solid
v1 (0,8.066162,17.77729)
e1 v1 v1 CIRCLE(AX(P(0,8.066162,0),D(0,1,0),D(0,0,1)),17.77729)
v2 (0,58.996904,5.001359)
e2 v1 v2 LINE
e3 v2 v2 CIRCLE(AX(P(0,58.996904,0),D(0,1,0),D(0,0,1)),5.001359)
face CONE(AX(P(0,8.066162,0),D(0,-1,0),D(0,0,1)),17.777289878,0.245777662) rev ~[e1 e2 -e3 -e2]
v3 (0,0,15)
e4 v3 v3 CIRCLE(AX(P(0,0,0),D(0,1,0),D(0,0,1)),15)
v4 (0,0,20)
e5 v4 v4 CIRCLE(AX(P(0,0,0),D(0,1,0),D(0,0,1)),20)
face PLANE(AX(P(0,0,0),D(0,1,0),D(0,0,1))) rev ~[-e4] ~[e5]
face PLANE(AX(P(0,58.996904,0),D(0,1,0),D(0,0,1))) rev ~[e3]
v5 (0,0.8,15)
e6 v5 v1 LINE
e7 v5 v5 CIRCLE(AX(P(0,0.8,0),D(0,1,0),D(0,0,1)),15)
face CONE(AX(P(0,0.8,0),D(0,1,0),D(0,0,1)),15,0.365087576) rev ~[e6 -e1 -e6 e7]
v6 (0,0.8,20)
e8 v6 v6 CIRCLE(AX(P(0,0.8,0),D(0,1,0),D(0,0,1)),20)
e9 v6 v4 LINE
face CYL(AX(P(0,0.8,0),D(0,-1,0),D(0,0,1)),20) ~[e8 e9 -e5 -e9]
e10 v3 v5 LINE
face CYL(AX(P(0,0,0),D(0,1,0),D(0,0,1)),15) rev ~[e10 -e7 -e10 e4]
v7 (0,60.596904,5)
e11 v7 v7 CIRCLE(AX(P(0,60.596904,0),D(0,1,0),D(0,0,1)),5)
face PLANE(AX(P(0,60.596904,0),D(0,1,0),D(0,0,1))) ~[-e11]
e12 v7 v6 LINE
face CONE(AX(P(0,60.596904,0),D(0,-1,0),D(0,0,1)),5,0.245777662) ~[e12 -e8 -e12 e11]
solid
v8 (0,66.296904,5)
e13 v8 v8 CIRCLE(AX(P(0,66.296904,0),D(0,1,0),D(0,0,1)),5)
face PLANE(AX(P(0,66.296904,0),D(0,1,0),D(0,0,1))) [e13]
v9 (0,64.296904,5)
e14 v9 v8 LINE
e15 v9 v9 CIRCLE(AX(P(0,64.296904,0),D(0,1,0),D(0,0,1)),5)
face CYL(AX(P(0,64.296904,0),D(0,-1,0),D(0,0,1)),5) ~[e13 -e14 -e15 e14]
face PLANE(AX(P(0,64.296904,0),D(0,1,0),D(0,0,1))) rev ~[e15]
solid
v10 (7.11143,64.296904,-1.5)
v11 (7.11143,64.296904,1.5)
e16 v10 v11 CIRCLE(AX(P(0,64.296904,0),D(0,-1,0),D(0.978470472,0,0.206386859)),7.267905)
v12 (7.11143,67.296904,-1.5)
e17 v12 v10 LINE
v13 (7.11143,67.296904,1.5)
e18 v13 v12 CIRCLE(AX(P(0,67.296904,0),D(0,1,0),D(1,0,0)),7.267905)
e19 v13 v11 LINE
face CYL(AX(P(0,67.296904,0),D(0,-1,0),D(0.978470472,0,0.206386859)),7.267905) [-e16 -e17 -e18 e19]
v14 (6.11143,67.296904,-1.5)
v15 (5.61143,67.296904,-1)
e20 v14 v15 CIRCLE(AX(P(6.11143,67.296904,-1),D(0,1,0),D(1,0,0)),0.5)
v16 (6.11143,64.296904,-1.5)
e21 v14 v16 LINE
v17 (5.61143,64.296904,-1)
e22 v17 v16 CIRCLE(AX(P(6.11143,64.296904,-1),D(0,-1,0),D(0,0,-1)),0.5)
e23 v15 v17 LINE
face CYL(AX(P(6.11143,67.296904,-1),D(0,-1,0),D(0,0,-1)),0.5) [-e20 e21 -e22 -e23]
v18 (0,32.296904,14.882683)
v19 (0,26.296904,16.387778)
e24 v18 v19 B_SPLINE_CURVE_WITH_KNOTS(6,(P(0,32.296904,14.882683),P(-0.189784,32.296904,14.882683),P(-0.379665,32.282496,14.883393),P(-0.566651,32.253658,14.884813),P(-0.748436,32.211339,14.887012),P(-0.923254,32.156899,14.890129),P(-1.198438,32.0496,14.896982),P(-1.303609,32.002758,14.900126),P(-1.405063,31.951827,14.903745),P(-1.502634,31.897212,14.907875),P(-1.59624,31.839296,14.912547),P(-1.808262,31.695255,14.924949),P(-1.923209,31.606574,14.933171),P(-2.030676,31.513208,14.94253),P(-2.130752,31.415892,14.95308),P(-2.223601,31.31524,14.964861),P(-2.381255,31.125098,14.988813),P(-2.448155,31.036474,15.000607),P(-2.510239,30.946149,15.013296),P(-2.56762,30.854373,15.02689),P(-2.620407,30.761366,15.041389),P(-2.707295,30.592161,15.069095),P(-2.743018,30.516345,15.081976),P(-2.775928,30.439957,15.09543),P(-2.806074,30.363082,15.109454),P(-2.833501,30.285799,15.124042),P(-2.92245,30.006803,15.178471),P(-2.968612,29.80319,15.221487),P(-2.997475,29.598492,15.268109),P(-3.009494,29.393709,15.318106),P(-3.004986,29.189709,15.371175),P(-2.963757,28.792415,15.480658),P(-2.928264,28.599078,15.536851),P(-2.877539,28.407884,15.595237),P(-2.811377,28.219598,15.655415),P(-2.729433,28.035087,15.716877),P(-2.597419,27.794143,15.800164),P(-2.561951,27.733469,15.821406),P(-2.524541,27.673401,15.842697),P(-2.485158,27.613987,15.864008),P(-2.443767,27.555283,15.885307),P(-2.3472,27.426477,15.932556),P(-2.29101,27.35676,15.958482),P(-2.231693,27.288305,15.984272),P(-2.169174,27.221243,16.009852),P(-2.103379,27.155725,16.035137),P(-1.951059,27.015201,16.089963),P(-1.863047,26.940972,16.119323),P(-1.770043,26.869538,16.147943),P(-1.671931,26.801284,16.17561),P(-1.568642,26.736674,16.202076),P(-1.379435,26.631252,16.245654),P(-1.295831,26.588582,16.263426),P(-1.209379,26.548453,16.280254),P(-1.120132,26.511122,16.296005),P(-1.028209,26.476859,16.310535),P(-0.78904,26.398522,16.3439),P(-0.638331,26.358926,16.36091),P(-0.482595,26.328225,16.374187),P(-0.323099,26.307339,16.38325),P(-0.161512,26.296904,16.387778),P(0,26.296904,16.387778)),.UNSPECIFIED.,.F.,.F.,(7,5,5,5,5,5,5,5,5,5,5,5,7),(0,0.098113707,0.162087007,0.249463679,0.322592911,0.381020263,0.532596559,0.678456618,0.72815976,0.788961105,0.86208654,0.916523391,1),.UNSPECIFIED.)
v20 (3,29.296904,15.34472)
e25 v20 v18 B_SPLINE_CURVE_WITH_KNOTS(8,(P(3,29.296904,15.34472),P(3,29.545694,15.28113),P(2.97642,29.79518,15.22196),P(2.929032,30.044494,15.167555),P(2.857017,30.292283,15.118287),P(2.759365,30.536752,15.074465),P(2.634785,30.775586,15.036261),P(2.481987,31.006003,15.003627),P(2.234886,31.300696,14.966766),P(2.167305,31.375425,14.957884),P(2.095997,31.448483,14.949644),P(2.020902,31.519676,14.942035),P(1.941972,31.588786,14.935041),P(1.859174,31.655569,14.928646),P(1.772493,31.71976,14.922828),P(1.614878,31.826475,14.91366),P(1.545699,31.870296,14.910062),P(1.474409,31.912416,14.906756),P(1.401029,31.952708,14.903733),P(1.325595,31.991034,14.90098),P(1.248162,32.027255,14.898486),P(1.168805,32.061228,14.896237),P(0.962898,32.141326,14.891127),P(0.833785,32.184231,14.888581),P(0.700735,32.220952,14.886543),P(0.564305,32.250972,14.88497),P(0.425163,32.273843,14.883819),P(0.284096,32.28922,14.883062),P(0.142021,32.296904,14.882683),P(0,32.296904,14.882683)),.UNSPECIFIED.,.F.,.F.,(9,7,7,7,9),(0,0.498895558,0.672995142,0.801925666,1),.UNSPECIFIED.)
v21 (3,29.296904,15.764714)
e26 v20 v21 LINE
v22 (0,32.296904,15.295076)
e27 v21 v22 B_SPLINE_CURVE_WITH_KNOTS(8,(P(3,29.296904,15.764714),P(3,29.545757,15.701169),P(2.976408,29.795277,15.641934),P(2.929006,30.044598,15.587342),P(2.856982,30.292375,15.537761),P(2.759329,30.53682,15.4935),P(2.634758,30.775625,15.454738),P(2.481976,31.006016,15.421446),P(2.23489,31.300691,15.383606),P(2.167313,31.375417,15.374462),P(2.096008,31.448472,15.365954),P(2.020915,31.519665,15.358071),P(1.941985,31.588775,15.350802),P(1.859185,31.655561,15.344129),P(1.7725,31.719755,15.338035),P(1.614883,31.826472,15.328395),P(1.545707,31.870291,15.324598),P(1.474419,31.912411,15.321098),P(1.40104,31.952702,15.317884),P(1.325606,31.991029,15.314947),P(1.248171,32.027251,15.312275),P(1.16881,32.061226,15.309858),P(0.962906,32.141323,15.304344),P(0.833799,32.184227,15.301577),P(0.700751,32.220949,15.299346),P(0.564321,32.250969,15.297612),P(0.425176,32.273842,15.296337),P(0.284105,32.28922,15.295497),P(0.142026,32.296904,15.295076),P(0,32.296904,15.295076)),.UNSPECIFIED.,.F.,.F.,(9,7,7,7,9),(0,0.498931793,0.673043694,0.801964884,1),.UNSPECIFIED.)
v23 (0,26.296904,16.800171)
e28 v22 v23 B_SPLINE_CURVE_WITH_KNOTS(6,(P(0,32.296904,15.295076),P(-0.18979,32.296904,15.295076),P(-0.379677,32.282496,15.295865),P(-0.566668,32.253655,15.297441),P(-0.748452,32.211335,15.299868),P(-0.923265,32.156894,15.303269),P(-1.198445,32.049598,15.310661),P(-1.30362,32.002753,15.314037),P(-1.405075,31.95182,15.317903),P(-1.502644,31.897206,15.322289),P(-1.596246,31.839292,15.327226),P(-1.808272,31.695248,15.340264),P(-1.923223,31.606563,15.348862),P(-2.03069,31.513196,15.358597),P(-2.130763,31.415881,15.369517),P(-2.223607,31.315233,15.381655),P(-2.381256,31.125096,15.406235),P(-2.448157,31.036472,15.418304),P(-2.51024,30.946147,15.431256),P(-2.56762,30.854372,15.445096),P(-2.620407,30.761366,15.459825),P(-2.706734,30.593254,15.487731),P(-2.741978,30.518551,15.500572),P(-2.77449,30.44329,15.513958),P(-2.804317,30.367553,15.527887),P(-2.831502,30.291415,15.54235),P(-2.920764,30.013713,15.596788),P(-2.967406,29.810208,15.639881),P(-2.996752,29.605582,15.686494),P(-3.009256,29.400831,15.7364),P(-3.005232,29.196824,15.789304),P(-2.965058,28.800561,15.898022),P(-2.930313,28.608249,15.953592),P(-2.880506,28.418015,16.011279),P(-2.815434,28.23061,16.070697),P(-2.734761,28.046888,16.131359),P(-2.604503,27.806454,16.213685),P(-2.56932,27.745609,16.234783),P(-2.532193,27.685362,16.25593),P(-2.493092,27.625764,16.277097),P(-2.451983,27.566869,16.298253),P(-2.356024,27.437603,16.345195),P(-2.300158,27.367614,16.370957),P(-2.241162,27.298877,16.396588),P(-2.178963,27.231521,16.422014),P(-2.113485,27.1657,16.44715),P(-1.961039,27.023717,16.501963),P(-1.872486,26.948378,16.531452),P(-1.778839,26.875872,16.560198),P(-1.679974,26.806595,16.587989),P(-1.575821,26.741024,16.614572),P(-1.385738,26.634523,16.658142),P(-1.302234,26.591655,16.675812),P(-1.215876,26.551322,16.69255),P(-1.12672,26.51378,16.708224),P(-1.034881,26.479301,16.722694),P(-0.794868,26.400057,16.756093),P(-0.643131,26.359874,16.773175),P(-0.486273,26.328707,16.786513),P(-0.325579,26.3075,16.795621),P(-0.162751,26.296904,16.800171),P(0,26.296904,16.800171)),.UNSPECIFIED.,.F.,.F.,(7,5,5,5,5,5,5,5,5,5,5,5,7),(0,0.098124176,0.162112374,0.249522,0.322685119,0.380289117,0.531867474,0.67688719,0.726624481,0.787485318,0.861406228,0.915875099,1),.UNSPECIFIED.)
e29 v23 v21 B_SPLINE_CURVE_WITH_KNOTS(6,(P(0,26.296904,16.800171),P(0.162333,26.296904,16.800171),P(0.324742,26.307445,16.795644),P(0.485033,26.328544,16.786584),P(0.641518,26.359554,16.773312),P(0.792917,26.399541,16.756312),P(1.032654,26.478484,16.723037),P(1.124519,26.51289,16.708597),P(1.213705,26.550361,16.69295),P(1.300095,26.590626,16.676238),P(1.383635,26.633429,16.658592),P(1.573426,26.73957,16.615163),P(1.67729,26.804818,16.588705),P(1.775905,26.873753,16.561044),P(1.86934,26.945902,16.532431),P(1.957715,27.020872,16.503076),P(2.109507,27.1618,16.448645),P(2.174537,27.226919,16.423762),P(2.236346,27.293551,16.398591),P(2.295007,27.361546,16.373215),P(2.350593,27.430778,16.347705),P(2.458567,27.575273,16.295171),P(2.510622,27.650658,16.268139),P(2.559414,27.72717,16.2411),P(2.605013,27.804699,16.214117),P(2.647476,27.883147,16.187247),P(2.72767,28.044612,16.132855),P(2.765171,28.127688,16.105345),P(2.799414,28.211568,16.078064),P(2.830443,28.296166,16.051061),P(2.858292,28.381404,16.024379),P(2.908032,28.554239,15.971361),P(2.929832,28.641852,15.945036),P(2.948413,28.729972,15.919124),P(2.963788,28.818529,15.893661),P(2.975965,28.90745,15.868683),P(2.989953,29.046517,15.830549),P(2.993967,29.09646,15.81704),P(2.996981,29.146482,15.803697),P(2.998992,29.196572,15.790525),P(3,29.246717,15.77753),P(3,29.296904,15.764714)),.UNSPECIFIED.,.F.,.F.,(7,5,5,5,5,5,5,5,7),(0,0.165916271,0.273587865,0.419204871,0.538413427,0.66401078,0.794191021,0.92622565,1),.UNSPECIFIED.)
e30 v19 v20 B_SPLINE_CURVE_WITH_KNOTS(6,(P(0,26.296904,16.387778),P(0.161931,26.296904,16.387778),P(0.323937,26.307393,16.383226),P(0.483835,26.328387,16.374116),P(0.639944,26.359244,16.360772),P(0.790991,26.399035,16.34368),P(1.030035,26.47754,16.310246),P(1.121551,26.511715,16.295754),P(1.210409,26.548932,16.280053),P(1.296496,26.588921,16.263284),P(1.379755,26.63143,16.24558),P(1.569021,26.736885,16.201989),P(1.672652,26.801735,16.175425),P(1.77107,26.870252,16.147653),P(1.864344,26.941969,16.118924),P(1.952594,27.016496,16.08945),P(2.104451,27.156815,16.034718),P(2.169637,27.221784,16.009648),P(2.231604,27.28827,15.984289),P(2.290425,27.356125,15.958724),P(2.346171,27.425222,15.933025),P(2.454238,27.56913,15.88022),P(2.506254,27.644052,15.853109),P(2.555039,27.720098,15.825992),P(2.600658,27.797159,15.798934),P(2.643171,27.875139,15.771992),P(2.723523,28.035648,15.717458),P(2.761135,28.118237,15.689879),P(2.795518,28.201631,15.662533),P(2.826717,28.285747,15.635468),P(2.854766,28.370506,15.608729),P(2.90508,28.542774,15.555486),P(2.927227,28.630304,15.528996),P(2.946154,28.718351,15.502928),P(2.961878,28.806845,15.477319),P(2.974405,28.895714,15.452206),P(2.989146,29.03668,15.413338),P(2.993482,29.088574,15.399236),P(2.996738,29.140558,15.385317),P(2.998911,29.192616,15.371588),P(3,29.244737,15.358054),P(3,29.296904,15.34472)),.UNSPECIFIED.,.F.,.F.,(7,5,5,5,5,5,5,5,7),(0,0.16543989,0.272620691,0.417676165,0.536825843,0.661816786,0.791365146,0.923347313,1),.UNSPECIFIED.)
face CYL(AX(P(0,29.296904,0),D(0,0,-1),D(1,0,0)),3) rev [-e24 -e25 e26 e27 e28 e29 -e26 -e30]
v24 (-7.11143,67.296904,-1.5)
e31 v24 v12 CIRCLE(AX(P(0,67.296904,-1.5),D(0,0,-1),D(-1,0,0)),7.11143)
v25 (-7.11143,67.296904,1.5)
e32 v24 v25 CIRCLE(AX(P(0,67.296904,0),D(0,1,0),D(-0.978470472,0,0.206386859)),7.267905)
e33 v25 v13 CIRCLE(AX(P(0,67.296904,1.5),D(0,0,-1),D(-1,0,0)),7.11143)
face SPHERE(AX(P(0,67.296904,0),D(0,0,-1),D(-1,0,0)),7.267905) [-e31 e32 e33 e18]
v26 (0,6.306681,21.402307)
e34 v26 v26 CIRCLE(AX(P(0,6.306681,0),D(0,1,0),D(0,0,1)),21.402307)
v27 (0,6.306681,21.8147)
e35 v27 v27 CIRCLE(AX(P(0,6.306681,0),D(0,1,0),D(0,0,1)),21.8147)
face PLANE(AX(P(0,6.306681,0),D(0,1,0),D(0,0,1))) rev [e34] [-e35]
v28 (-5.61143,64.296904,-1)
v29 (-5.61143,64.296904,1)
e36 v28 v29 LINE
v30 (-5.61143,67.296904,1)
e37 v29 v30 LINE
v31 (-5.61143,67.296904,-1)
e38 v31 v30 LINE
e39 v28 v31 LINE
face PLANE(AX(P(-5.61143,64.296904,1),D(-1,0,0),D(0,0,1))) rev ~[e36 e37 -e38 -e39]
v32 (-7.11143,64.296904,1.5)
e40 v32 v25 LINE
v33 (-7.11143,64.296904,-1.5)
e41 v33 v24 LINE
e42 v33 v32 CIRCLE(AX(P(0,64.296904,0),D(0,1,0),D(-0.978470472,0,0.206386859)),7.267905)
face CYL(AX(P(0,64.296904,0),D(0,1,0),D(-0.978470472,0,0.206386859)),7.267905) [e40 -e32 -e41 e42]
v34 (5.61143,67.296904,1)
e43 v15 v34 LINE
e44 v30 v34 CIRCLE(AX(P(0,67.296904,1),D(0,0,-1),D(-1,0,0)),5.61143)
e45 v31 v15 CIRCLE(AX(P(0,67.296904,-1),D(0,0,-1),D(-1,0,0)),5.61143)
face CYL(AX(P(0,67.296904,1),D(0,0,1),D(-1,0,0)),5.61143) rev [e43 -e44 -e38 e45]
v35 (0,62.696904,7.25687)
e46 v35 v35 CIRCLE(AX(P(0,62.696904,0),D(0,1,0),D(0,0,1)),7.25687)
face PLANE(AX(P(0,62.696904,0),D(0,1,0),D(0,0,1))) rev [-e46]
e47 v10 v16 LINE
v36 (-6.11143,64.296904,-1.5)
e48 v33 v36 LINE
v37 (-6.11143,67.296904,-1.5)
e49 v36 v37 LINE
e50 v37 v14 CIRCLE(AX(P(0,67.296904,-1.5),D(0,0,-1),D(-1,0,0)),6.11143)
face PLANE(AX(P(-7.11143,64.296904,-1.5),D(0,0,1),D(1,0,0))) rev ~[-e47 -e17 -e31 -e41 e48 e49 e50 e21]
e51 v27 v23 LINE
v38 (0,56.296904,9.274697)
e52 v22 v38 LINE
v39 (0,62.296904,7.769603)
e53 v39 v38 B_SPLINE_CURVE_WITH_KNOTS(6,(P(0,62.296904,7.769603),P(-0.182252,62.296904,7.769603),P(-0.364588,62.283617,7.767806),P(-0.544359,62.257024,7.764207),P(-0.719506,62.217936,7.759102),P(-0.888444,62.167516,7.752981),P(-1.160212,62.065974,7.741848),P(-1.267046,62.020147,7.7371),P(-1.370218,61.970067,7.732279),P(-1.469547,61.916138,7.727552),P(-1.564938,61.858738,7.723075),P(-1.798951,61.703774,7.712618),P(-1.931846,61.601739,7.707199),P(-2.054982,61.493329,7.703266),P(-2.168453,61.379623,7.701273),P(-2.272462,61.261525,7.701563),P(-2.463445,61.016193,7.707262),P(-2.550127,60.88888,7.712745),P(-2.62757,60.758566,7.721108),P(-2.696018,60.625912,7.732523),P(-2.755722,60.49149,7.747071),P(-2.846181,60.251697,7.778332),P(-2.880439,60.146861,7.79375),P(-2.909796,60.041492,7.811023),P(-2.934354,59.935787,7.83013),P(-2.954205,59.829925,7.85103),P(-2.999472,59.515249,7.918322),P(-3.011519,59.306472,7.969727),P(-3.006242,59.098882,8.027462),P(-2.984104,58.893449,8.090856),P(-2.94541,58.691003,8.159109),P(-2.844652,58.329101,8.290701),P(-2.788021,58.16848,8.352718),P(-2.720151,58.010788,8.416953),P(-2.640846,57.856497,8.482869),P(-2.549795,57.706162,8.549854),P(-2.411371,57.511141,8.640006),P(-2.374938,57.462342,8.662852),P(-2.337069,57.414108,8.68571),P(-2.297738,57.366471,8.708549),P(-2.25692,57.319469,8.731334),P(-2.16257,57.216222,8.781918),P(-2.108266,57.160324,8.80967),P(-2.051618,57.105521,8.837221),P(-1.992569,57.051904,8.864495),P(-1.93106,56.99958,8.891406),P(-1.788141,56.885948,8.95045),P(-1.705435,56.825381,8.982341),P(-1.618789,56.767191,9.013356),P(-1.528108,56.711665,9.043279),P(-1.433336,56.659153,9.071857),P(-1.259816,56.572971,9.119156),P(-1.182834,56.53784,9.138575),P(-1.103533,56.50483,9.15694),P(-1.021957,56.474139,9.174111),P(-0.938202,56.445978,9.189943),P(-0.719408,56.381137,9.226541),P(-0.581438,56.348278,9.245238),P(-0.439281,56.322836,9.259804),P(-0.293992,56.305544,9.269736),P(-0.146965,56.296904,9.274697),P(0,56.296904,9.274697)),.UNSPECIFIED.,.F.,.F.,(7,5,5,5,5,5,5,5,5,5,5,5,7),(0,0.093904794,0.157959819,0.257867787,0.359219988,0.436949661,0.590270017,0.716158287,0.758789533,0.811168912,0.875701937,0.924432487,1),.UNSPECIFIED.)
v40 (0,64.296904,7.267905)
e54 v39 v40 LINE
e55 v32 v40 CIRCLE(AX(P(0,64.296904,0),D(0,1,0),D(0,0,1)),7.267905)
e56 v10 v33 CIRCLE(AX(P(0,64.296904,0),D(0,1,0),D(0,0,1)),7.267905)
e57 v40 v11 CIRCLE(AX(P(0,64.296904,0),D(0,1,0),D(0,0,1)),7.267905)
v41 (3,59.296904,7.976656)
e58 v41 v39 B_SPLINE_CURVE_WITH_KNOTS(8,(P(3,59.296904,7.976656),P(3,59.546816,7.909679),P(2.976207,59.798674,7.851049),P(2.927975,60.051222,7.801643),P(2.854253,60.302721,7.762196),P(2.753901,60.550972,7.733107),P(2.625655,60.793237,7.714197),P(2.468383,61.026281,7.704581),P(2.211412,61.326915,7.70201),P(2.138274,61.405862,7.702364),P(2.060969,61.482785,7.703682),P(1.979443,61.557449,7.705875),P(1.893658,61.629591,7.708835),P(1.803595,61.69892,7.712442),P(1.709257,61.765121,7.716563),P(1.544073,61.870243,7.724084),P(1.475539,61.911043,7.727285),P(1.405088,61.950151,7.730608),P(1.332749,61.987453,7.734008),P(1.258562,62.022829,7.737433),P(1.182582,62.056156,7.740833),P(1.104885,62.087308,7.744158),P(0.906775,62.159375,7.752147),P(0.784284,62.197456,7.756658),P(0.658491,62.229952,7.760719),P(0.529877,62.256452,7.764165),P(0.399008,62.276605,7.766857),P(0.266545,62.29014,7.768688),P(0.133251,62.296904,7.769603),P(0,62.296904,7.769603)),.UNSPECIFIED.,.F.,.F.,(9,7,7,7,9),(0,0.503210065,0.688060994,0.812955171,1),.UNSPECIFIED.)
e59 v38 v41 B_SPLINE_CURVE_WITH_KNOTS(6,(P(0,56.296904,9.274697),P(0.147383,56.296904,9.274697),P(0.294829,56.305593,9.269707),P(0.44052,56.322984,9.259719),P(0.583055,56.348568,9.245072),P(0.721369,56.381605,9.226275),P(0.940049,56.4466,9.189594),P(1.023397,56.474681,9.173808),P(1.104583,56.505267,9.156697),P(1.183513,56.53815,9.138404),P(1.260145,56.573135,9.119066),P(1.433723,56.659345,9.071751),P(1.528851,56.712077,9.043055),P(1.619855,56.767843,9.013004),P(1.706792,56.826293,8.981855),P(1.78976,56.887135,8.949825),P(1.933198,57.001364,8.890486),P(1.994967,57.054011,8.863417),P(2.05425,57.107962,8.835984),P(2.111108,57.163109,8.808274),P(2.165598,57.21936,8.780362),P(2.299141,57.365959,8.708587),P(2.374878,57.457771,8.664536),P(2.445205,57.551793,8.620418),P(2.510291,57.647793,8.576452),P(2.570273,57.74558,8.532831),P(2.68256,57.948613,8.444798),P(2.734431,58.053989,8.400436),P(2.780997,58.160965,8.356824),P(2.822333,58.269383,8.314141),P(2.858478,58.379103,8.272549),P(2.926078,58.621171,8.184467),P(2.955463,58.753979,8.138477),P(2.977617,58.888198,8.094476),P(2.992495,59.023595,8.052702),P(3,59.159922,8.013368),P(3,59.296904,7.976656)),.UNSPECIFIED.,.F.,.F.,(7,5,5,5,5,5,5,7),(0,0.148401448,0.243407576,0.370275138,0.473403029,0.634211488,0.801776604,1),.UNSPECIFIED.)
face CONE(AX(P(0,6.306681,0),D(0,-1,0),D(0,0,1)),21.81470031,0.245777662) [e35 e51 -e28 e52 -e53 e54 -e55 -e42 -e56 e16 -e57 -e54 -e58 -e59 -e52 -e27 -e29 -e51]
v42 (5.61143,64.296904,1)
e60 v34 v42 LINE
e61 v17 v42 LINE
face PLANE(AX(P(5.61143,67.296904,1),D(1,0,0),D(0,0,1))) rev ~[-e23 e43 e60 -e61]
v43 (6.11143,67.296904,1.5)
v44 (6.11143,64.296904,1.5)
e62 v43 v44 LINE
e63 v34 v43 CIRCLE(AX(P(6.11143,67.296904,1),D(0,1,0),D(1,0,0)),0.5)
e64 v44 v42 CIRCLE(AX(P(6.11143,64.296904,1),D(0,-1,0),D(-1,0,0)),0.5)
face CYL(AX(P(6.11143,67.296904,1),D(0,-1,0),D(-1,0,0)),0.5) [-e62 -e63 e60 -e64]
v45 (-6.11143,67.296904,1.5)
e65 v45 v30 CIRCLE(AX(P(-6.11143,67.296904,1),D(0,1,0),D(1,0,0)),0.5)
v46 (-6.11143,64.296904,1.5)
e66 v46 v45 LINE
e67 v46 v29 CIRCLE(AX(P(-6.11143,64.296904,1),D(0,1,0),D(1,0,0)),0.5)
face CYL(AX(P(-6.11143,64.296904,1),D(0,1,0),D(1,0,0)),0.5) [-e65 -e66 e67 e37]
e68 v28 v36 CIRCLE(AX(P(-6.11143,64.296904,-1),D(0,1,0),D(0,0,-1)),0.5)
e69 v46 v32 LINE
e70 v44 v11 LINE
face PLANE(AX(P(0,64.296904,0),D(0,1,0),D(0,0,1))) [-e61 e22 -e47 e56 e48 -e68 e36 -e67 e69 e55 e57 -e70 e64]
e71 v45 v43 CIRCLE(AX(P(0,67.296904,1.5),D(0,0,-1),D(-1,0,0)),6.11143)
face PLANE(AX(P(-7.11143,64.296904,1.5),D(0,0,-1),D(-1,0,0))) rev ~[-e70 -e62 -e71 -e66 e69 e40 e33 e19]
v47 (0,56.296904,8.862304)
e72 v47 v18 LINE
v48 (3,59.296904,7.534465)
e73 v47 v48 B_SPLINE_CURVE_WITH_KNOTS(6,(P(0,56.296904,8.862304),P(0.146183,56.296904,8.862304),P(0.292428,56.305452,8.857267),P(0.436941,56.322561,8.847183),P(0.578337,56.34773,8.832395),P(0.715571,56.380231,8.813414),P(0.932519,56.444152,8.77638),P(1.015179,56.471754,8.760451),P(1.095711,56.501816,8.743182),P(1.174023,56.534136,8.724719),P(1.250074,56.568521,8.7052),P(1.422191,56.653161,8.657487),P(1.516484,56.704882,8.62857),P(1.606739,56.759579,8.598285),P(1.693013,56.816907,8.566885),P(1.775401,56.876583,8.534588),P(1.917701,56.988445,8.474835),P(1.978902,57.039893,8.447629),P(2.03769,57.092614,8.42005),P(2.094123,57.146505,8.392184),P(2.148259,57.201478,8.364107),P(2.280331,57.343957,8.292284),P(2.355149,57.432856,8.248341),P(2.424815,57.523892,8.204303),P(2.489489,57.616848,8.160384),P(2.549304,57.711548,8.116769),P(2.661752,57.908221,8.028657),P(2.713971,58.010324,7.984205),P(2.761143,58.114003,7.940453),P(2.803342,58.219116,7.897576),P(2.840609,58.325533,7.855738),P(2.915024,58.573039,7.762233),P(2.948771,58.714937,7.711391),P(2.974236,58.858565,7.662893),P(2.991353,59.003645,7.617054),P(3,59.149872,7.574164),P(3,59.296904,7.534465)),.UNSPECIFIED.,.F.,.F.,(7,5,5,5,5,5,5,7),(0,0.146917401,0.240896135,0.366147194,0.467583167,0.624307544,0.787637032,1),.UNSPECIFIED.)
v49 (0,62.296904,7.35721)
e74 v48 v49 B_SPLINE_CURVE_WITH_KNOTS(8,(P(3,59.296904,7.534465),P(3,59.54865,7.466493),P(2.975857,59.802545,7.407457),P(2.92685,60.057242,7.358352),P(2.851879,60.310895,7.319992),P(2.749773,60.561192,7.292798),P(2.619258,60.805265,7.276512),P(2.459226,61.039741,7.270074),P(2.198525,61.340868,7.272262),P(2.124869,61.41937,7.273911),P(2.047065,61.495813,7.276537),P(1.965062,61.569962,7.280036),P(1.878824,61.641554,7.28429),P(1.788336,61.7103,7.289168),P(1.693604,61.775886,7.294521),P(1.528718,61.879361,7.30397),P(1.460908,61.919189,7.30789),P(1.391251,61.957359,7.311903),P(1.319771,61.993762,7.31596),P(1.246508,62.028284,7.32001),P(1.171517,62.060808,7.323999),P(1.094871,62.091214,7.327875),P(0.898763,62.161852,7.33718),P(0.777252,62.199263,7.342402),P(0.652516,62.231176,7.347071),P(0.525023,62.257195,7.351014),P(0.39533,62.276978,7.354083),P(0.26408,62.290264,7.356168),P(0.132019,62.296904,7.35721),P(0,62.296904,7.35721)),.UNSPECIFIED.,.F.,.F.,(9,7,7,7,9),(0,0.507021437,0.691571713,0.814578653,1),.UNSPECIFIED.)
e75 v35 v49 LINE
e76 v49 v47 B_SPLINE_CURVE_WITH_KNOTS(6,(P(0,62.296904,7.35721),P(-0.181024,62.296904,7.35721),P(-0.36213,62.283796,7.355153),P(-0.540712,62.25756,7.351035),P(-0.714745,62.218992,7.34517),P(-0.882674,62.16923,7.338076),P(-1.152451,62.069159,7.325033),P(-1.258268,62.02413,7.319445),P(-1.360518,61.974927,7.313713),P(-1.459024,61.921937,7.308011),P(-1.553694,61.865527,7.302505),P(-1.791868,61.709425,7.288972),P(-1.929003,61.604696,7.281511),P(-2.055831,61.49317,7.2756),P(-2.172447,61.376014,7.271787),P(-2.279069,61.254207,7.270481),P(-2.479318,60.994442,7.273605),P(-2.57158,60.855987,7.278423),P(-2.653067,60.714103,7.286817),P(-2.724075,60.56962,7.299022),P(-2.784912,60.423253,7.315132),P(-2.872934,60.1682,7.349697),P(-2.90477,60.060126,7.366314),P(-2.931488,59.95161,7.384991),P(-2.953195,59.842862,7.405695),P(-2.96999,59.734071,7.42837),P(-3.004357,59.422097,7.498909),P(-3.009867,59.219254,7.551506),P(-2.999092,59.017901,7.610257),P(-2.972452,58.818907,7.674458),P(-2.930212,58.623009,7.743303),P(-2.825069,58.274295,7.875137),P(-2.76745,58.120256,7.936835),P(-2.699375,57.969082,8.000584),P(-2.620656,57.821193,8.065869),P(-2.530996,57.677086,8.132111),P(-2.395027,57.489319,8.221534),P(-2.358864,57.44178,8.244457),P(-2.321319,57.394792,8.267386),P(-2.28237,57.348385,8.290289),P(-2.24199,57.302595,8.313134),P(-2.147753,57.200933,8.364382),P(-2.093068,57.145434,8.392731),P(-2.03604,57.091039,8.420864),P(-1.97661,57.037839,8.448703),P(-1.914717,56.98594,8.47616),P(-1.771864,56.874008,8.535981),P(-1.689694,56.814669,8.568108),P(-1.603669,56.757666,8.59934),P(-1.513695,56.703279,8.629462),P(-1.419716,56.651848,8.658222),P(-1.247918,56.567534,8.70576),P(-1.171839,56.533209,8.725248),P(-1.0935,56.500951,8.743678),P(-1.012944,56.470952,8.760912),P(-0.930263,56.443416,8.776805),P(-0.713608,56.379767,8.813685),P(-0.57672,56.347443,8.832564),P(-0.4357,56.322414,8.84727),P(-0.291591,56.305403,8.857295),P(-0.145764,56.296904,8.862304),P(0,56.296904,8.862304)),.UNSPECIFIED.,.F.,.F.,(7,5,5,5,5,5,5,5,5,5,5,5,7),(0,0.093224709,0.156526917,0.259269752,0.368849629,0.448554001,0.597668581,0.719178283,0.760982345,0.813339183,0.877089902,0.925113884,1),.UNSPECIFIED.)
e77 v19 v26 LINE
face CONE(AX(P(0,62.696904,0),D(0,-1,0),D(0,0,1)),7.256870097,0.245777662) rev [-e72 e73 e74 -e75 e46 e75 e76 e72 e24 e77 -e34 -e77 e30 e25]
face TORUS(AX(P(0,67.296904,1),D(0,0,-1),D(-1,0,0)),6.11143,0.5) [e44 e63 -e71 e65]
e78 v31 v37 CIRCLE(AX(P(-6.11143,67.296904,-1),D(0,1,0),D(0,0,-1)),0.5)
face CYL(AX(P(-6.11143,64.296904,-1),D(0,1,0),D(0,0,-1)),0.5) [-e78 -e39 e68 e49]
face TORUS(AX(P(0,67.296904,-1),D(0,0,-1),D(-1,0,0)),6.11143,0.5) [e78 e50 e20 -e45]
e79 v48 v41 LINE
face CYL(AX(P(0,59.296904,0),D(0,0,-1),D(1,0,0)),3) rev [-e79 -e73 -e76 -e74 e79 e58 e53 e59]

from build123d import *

# Parameters (mm, degrees)
SKETCH003_R  = 3
POCKET_DEPTH = 21.81570031
SKETCH002_R  = 5
PAD_DEPTH    = 2


with BuildPart() as male:
    # Sketch → Revolution (revolve)
    with BuildSketch(Plane.YZ):
        Polygon((0.8, 20), (0, 20), (0, 15), (0.8, 15), (8.0661615148, 17.7772898777), (58.9969042854, 5.0013585701), (58.9969042854, 0), (60.5969042854, 0), (60.5969042854, 5), align=None)
    revolve(axis=Axis((0, 0, 0), (0, 1, 0)))


with BuildPart() as female:
    # Sketch001 → Revolution001 (revolve)
    with BuildSketch(Plane.YZ):
        Polygon((62.6969042854, 0), (62.6969042854, 7.2568700966), (6.3066808881, 21.4023072403), (6.3066808881, 21.81470031), (64.2969042854, 7.2679045961), (64.2969042854, 0), align=None)
    revolve(axis=Axis((0, 0, 0), (0, 1, 0)))

    # Sketch003 → Pocket (cut, through all)
    with BuildSketch(Plane.XY):
        with Locations((0, 29.2969042854)):
            Circle(SKETCH003_R)
        with Locations((0, 59.2969042854)):
            Circle(SKETCH003_R)
    extrude(amount=POCKET_DEPTH, mode=Mode.SUBTRACT)

    # AdditivePipe: sweep along a path in Sketch004
    with BuildLine(Plane.XY) as additivepipe_path:
        Line((-7.2679045961, 64.2969042854), (-7.2679045961, 67.2969042854))
        ThreePointArc((-7.2679045961, 67.2969042854), (0, 74.5648088815), (7.2679045961, 67.2969042854))
        Line((7.2679045961, 67.2969042854), (7.2679045961, 64.2969042854))
    # Sketch005 (on Face7 of Pocket) → AdditivePipe (sweep)
    with BuildSketch(Plane.ZX.offset(64.2969042854)):
        with BuildLine():
            Line((1.5, 7.1114300403), (1.5, 6.1114300403))
            ThreePointArc((1, 5.6114300403), (1.3535533906, 5.7578766497), (1.5, 6.1114300403))
            Line((1, 5.6114300403), (-1, 5.6114300403))
            ThreePointArc((-1.5, 6.1114300403), (-1.3535533906, 5.7578766497), (-1, 5.6114300403))
            Line((-1.5, 7.1114300403), (-1.5, 6.1114300403))
            ThreePointArc((1.5, 7.1114300403), (0, 7.2679045961), (-1.5, 7.1114300403))
        make_face()
    sweep(path=additivepipe_path.line)


with BuildPart() as magnet:
    # Sketch002 (on Face1 of ShapeBinder001) → Pad (new body)
    with BuildSketch(Plane.ZX.offset(64.2969042854)):
        Circle(SKETCH002_R)
    extrude(amount=PAD_DEPTH)


solid = Compound([male.part, female.part, magnet.part])
